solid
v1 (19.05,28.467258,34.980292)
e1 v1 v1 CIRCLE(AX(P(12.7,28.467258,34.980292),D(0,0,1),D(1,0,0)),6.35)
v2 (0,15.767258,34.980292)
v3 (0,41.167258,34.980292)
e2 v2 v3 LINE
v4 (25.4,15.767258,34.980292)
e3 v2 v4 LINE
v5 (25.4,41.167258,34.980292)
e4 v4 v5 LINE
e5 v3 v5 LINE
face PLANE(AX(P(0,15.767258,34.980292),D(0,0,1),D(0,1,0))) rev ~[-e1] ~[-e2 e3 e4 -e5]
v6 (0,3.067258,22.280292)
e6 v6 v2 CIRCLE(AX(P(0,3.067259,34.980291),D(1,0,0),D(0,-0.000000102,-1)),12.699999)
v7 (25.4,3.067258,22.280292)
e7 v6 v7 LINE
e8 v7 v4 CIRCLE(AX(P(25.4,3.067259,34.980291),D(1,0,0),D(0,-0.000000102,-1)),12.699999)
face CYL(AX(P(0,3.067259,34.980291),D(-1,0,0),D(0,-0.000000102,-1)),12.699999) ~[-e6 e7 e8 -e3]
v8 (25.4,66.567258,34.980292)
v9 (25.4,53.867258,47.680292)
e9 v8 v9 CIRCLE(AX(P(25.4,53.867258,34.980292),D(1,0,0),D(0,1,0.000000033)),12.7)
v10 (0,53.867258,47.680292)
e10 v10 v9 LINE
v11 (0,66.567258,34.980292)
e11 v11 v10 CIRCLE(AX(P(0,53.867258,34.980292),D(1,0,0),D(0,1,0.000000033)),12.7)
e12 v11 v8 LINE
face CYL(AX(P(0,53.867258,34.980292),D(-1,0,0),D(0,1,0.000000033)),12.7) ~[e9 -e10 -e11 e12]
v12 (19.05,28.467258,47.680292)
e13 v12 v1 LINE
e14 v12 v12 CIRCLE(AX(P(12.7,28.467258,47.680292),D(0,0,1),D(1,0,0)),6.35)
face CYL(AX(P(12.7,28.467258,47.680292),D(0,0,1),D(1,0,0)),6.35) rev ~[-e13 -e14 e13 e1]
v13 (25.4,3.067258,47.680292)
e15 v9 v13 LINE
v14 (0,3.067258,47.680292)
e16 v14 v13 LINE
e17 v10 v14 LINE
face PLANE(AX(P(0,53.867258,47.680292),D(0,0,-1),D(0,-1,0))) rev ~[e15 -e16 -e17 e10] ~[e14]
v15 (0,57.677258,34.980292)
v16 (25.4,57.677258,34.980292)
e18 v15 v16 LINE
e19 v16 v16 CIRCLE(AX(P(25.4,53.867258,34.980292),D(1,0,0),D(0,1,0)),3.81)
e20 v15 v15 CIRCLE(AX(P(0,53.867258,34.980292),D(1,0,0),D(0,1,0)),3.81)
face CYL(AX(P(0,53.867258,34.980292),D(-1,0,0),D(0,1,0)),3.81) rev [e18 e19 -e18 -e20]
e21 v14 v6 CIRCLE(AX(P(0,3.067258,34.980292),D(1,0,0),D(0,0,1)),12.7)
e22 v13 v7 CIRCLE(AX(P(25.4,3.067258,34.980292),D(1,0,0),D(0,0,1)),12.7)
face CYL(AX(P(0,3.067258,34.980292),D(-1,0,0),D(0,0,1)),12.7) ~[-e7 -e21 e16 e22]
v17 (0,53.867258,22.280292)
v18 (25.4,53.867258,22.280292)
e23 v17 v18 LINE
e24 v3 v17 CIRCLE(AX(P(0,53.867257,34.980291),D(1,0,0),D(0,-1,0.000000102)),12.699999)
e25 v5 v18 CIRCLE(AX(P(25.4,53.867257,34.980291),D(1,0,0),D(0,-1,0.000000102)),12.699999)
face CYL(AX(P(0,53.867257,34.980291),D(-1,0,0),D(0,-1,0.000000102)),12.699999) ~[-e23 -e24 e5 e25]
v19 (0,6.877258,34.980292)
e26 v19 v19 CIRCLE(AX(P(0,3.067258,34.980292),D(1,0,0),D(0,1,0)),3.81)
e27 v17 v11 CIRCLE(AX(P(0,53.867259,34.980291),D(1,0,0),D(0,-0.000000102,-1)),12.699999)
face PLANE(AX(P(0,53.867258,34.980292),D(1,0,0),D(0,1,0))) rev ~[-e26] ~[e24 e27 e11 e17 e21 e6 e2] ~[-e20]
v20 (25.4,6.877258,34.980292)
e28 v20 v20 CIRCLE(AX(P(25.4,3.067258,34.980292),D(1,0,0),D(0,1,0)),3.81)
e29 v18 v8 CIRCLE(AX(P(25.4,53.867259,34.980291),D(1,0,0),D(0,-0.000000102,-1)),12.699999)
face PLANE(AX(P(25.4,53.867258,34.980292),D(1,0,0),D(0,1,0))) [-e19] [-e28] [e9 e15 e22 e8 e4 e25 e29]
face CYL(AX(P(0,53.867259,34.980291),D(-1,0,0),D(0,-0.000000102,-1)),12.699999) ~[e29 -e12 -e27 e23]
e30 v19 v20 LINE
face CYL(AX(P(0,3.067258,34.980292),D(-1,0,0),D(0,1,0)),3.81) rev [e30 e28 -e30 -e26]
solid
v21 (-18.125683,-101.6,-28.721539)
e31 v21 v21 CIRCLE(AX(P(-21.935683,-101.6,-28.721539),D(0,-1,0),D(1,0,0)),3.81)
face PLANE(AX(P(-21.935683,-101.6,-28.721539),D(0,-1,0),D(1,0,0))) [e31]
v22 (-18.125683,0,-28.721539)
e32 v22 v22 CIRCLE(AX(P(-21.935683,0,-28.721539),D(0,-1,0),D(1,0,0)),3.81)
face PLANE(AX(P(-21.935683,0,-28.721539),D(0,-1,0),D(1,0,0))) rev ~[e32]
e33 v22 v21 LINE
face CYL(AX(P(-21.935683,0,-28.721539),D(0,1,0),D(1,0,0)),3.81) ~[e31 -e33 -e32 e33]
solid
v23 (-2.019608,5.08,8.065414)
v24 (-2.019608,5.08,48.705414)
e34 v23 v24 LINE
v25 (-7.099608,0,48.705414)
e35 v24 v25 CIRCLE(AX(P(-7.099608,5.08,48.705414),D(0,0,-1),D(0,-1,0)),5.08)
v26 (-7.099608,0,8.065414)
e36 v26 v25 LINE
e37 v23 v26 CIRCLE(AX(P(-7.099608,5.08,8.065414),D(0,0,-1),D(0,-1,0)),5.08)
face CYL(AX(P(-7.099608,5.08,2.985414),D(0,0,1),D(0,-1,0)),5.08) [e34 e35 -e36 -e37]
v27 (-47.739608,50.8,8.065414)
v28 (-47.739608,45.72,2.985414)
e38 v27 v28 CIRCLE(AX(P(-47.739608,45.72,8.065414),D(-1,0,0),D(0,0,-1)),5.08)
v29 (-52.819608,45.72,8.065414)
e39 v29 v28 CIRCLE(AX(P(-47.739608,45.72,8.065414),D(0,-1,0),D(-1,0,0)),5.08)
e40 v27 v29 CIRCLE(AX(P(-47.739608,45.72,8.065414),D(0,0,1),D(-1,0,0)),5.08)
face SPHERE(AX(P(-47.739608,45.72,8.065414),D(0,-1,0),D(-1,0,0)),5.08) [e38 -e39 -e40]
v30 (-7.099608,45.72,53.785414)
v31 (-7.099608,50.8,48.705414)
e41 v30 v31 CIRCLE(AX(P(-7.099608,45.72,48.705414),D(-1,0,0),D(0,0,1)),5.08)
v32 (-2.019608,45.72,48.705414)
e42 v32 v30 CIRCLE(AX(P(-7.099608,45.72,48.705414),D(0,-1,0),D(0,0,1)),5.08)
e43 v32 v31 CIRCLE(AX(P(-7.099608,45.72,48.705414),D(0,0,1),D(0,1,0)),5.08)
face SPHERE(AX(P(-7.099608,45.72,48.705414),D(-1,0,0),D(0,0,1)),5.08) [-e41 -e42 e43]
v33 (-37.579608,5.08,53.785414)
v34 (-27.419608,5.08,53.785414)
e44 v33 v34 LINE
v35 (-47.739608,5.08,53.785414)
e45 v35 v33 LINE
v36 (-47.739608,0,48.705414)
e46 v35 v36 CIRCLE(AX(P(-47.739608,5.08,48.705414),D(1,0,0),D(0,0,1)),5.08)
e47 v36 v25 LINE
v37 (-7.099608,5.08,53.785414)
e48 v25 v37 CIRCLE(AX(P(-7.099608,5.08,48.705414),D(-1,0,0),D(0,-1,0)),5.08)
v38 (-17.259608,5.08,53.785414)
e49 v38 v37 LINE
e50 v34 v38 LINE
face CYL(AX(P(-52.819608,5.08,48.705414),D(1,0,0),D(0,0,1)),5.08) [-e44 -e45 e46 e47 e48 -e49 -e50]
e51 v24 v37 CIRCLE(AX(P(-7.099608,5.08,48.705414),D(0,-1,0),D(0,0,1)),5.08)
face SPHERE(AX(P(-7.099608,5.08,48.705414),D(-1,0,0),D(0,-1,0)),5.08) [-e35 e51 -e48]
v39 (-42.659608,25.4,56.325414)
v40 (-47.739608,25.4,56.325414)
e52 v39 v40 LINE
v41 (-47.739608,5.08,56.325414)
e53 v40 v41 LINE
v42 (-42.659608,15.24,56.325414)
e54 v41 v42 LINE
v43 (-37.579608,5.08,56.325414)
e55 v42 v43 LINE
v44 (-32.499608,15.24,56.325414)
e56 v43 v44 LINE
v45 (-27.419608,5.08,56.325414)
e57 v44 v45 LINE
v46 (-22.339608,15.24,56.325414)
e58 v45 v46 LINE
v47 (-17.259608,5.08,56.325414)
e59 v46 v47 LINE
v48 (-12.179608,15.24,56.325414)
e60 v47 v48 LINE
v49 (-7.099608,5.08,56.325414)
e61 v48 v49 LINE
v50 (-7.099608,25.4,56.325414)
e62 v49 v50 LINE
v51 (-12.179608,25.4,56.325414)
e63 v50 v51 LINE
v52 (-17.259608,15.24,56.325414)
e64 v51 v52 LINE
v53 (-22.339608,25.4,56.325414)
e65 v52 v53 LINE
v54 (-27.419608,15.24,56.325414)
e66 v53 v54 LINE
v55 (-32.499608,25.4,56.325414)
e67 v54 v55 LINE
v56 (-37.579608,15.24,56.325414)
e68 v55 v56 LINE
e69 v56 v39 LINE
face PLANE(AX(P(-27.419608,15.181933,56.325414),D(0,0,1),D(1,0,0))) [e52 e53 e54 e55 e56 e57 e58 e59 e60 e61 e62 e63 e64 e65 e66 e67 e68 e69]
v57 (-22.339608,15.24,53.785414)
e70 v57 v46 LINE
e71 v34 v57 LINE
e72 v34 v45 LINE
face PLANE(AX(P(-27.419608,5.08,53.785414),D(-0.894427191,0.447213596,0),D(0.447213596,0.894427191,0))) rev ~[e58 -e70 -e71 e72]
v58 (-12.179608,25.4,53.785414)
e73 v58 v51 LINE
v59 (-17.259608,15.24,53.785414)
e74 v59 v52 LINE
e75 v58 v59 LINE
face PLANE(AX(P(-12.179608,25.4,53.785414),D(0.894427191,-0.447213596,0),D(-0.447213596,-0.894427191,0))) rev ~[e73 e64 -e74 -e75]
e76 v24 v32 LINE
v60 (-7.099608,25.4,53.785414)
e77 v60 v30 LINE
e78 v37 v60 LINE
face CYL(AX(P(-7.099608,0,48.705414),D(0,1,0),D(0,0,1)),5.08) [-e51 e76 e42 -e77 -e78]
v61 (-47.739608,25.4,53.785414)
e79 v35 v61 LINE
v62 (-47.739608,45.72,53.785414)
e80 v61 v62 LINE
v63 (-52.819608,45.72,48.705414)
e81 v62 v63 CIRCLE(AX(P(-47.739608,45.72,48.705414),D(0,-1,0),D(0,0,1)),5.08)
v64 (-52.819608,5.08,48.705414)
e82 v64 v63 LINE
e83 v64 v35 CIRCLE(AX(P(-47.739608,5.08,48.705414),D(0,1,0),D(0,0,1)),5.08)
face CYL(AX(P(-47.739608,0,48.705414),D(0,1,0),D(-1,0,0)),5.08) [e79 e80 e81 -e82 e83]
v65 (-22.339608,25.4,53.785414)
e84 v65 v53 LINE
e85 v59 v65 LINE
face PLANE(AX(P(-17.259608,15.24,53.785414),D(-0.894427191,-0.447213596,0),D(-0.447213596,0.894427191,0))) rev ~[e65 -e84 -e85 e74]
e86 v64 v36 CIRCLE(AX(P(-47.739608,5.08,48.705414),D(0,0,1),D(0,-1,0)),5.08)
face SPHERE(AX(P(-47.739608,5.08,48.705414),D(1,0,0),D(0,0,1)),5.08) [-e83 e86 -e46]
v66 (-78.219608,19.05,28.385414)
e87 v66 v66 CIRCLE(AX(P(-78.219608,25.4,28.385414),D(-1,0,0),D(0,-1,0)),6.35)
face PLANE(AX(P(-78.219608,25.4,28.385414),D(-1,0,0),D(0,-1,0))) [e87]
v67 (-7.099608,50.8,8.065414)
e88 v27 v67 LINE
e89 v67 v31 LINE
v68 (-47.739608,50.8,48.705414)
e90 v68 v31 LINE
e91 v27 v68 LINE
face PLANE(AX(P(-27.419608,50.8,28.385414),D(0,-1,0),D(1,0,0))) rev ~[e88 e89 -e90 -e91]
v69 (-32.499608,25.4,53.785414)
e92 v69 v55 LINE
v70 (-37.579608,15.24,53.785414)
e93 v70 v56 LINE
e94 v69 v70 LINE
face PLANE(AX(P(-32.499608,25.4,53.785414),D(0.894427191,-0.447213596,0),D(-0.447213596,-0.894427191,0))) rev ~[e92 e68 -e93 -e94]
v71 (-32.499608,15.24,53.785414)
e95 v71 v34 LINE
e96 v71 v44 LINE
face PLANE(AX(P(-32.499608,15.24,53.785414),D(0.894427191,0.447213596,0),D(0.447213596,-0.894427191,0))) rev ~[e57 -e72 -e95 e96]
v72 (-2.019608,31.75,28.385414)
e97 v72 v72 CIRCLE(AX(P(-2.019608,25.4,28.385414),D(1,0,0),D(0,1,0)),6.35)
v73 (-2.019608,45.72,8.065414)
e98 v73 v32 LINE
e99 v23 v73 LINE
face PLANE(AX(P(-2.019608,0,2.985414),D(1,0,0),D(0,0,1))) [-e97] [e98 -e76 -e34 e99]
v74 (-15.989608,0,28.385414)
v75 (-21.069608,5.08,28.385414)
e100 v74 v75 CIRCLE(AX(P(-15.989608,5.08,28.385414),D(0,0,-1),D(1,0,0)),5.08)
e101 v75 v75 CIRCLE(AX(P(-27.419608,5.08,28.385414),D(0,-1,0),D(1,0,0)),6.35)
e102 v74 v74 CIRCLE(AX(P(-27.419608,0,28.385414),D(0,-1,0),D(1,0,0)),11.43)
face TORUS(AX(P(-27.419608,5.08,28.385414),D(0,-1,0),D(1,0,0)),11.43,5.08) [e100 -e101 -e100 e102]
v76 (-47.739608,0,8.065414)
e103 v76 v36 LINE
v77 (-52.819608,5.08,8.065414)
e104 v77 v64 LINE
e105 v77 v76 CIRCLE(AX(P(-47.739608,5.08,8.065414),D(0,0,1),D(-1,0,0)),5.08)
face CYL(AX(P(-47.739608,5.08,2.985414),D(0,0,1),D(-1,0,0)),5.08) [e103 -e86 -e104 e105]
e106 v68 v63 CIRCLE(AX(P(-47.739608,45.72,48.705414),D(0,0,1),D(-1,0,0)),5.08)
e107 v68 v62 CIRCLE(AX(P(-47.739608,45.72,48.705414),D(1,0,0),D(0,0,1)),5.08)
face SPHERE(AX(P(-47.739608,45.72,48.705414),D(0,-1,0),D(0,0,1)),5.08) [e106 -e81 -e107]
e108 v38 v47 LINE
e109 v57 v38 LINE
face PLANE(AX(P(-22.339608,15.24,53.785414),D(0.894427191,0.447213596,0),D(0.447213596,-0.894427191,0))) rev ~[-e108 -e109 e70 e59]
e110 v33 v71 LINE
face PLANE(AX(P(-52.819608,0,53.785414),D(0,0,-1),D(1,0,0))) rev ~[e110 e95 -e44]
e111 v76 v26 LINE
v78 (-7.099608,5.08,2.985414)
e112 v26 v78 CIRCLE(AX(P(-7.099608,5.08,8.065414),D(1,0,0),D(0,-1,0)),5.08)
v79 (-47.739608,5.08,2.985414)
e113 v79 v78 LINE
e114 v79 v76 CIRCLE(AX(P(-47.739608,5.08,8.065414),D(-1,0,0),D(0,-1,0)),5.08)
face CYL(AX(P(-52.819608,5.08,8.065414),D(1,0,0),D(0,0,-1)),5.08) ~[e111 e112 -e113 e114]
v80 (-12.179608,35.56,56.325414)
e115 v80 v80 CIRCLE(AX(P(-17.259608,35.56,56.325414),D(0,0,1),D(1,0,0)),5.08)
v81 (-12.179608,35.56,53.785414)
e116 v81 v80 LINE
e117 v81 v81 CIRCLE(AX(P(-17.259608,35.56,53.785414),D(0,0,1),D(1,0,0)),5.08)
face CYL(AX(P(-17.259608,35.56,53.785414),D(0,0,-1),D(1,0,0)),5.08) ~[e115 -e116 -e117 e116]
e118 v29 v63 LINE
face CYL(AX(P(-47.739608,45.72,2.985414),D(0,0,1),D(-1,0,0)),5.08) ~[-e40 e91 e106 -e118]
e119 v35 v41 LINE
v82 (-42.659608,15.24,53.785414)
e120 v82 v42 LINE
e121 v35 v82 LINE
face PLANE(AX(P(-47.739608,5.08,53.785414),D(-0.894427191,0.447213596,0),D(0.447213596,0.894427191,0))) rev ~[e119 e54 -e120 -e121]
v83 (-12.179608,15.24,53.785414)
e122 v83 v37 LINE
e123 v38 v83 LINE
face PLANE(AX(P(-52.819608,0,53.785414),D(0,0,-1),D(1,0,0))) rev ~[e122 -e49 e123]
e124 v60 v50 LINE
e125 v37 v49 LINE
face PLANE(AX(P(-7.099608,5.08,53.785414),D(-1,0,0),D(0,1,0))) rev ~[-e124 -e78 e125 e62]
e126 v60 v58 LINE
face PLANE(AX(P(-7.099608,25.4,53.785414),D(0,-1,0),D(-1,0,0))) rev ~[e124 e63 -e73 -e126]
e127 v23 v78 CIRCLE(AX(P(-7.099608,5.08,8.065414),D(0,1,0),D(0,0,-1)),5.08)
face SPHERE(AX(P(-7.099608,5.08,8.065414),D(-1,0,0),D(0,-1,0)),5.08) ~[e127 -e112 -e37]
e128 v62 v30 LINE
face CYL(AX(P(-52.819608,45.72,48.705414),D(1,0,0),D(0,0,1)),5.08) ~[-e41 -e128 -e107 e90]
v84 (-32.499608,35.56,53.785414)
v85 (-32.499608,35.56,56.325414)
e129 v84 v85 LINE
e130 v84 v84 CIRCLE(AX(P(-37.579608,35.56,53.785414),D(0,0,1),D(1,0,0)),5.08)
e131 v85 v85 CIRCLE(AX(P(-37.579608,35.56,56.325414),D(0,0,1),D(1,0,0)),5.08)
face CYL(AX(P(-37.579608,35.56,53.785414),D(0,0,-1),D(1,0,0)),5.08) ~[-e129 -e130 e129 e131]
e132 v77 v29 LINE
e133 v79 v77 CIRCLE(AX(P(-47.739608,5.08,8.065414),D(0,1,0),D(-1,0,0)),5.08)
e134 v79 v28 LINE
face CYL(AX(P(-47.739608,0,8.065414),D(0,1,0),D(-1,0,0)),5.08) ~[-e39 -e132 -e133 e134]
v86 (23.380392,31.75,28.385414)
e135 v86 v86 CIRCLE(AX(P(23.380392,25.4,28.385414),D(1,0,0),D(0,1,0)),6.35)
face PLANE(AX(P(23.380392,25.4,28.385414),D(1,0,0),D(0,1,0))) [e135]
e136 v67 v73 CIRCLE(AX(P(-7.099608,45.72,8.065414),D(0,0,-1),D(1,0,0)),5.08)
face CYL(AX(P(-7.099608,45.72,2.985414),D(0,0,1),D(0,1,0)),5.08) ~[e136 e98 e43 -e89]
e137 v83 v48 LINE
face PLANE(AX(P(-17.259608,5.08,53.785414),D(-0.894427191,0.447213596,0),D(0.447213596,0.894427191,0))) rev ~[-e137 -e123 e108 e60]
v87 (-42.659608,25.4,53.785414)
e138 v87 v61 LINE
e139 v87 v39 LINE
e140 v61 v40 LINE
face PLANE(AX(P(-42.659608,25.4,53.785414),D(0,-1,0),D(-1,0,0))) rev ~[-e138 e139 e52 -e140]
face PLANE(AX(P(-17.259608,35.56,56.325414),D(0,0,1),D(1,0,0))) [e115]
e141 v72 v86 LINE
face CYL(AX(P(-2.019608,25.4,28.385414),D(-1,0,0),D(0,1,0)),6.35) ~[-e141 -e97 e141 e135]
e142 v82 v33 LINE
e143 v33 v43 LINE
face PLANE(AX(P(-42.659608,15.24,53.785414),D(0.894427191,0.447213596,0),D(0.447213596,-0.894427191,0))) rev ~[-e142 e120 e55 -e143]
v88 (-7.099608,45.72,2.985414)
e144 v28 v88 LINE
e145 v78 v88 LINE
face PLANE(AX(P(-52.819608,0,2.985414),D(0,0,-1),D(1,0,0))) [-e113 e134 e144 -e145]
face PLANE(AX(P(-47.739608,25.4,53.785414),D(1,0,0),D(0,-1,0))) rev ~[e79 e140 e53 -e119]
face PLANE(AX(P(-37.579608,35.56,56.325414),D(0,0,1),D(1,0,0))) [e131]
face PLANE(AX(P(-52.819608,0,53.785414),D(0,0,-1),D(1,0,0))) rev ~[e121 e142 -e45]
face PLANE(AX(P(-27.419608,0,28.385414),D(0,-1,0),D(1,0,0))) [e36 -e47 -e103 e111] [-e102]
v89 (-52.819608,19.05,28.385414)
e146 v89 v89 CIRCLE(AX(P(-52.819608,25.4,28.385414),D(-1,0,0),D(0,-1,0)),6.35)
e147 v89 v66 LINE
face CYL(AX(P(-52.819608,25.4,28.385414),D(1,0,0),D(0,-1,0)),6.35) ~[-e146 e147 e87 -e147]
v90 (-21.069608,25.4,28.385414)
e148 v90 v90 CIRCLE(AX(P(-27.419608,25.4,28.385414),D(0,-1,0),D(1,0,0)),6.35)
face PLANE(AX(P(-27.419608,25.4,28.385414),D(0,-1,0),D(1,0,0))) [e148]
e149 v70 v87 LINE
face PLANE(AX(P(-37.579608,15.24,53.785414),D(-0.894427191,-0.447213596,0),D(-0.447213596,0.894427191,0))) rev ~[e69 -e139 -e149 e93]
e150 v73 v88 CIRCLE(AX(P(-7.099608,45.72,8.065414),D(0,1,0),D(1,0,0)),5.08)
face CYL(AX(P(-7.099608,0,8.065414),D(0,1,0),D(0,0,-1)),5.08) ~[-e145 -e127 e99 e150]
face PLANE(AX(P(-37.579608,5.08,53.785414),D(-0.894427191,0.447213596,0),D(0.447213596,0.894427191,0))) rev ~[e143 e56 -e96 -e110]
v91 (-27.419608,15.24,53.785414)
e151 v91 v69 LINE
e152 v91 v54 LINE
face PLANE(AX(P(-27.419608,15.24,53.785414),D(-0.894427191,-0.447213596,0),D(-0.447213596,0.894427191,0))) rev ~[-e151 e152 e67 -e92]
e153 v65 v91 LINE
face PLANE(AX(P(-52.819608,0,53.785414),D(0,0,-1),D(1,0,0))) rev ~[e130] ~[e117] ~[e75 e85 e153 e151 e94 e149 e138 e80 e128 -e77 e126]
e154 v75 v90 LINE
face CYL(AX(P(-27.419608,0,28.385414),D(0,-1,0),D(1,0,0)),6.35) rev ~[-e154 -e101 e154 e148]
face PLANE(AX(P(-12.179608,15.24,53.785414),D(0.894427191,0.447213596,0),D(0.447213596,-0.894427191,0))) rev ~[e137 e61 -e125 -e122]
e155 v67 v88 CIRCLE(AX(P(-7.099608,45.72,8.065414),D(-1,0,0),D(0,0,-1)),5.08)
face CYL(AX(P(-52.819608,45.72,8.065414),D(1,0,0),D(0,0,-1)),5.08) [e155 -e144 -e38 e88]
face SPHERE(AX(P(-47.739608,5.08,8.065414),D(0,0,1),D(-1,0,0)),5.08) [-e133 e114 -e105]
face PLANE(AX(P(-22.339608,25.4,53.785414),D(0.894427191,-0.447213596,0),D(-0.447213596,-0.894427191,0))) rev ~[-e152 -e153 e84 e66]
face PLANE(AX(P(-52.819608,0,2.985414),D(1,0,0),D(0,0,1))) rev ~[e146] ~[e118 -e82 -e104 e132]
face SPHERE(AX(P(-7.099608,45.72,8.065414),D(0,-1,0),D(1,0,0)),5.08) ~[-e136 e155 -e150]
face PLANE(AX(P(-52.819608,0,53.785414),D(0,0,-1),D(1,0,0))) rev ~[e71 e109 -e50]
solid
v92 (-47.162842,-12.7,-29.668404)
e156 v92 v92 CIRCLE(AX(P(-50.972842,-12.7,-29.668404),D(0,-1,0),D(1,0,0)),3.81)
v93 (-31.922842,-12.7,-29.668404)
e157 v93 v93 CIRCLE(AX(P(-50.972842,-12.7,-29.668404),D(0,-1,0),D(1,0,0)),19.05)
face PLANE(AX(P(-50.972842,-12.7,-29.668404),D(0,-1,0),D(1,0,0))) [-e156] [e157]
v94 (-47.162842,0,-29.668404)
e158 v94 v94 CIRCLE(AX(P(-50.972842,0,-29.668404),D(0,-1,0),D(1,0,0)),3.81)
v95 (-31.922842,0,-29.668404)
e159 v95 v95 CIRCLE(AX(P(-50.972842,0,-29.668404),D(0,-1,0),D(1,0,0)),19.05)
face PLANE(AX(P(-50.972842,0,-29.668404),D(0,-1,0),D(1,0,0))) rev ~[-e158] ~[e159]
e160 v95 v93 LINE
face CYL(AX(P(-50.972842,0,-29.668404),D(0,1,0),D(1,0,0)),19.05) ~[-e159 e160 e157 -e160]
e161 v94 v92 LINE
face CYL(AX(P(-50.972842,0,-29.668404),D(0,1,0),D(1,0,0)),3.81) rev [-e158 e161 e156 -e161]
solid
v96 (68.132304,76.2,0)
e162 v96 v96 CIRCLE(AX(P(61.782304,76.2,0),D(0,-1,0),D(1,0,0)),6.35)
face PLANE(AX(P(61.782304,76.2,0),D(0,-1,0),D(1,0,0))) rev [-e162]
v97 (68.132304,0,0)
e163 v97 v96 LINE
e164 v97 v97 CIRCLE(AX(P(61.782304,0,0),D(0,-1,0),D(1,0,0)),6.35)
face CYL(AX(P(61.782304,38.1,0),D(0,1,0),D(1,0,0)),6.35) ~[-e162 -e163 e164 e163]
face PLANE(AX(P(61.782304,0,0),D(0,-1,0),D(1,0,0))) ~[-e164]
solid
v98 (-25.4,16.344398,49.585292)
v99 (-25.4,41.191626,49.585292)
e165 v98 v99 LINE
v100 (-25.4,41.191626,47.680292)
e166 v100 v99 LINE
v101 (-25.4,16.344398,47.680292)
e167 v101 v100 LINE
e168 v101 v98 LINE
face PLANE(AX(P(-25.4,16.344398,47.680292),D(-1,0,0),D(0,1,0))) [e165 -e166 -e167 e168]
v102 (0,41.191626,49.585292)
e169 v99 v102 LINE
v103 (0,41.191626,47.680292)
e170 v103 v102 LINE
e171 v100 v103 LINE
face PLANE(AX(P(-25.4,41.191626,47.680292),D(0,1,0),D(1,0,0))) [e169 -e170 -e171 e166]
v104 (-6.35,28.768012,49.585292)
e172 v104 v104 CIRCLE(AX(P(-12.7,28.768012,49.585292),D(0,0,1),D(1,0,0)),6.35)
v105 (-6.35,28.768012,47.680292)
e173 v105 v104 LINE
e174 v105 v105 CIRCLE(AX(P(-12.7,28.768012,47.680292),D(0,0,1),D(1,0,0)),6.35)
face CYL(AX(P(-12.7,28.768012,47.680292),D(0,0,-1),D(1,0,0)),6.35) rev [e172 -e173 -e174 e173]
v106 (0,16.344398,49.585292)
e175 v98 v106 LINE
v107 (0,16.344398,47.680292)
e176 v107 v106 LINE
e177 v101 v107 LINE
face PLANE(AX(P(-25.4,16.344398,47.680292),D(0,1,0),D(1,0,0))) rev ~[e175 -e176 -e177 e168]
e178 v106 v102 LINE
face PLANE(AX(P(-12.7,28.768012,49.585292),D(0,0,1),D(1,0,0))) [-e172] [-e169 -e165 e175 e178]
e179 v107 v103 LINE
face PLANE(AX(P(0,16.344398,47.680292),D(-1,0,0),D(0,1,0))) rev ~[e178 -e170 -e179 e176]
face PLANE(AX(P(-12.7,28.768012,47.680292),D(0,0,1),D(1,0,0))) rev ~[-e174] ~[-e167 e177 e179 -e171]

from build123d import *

# Parameters (mm, degrees)
F0_R      = 19.05
F0_R_2    = 3.81
F1_DEPTH  = 12.7
F2_R      = 3.81
F3_DEPTH  = 101.6
F4_R      = 3.81
F5_DEPTH  = 25.4
F6_R      = 6.35
F7_DEPTH  = 96.399695
F8_W      = 6.35
F8_H      = 76.2
F10_W     = 25.4
F10_H     = 24.847228
F10_R     = 6.35
F11_DEPTH = 1.905
F12_W     = 50.8
F12_H     = 50.8
F12_R     = 6.35
F13_DEPTH = 50.8
F14_R     = 6.35
F15_DEPTH = 25.4
F16_R     = 5.08
F17_R     = 6.35
F18_DEPTH = 25.4
F19_R     = 6.35
F20_DEPTH = 25.4
F21_R     = 5.08
F22_DEPTH = 2.54


with BuildPart() as f1:
    # F0 (on Front) → F1 (new body)
    with BuildSketch(Plane.XZ):
        with Locations((-50.972842, -29.668404)):
            Circle(F0_R)
        with Locations((-50.972842, -29.668404)):
            Circle(F0_R_2, mode=Mode.SUBTRACT)
    extrude(amount=F1_DEPTH)


with BuildPart() as f3:
    # F2 (on Front) → F3 (new body)
    with BuildSketch(Plane.XZ):
        with Locations((-21.935683, -28.721539)):
            Circle(F2_R)
    extrude(amount=F3_DEPTH)


with BuildPart() as f5:
    # F4 (on Right) → F5 (new body)
    with BuildSketch(Plane.YZ):
        with BuildLine():
            ThreePointArc((53.867258, 22.280292), (62.847514, 26.000035), (66.567258, 34.980292))
            ThreePointArc((66.567258, 34.980292), (62.847514, 43.960548), (53.867258, 47.680292))
            ThreePointArc((53.867258, 47.680292), (44.887002, 43.960548), (41.167258, 34.980292))
            ThreePointArc((41.167258, 34.980292), (44.887002, 26.000035), (53.867258, 22.280292))
        make_face()
        with Locations((53.867258, 34.980292)):
            Circle(F4_R, mode=Mode.SUBTRACT)
        with BuildLine():
            ThreePointArc((15.767258, 34.980292), (12.047514, 43.960548), (3.067258, 47.680292))
            ThreePointArc((3.067258, 47.680292), (-9.632742, 34.980292), (3.067258, 22.280292))
            ThreePointArc((3.067258, 22.280292), (12.047514, 26.000035), (15.767258, 34.980292))
        make_face()
        with Locations((3.067258, 34.980292)):
            Circle(F4_R, mode=Mode.SUBTRACT)
        with BuildLine():
            ThreePointArc((41.167258, 34.980292), (44.887002, 43.960548), (53.867258, 47.680292))
            Line((53.867258, 47.680292), (3.067258, 47.680292))
            ThreePointArc((3.067258, 47.680292), (12.047514, 43.960548), (15.767258, 34.980292))
            Line((15.767258, 34.980292), (41.167258, 34.980292))
        make_face()
    extrude(amount=F5_DEPTH)

    # F6 (on face) → F7 (cut, through all)
    with BuildSketch(Plane.XY.offset(47.680292)):
        with Locations((12.7, 28.467258)):
            Circle(F6_R)
    extrude(amount=-F7_DEPTH, mode=Mode.SUBTRACT)


with BuildPart() as f9:
    # F8 (on Top) → F9 (revolve)
    with BuildSketch(Plane.XY):
        with Locations((64.957304, 38.1)):
            Rectangle(F8_W, F8_H)
    revolve(axis=Axis((61.782304, 38.1, 0), (0, -1, 0)))


with BuildPart() as f11:
    # F10 (on face) → F11 (new body)
    with BuildSketch(Plane.XY.offset(47.680292)):
        with Locations((-12.7, 28.768012)):
            Rectangle(F10_W, F10_H)
        with Locations((-12.7, 28.768012)):
            Circle(F10_R, mode=Mode.SUBTRACT)
    extrude(amount=F11_DEPTH)


with BuildPart() as f13:
    # F12 (on Front) → F13 (new body)
    with BuildSketch(Plane.XZ):
        with Locations((-27.419608, 28.385414)):
            Rectangle(F12_W, F12_H)
        with Locations((-27.419608, 28.385414)):
            Circle(F12_R, mode=Mode.SUBTRACT)
        with Locations((-27.419608, 28.385414)):
            Circle(F12_R)
    extrude(amount=-F13_DEPTH)

    # F14 (on face) → F15 (cut)
    with BuildSketch(Plane.XZ):
        with Locations((-27.419608, 28.385414)):
            Circle(F14_R)
    extrude(amount=-F15_DEPTH, mode=Mode.SUBTRACT)

    # F16
    f16_edges = [f13.edges().sort_by_distance(p)[0] for p in [
        (-27.419608, 0, 53.785414),
        (-52.819608, 25.4, 53.785414),
        (-52.819608, 0, 28.385414),
        (-52.819608, 25.4, 2.985414),
        (-27.419608, 0, 2.985414),
        (-2.019608, 0, 28.385414),
        (-33.769608, 0, 28.385414),
        (-2.019608, 25.4, 2.985414),
        (-27.419608, 50.8, 53.785414),
        (-2.019608, 25.4, 53.785414),
        (-2.019608, 50.8, 28.385414),
        (-52.819608, 50.8, 28.385414),
        (-27.419608, 50.8, 2.985414),
    ]]
    fillet(f16_edges, radius=F16_R)

    # F17 (on face) → F18 (join)
    with BuildSketch(Plane(origin=(-52.819608, 0, 0), x_dir=(0, -1, 0), z_dir=(-1, 0, 0))):
        with Locations((-25.4, 28.385414)):
            Circle(F17_R)
    extrude(amount=F18_DEPTH)

    # F19 (on face) → F20 (join)
    with BuildSketch(Plane.YZ.offset(-2.019608)):
        with Locations((25.4, 28.385414)):
            Circle(F19_R)
    extrude(amount=F20_DEPTH)

    # F21 (on face) → F22 (join)
    with BuildSketch(Plane.XY.offset(53.785414)):
        with Locations((-37.579608, 35.56)):
            Circle(F21_R)
        with Locations((-17.259608, 35.56)):
            Circle(F21_R)
        Polygon((-42.659608, 25.4), (-47.739608, 25.4), (-47.739608, 5.08), (-42.659608, 15.24), (-37.579608, 5.08), (-32.499608, 15.24), (-27.419608, 5.08), (-22.339608, 15.24), (-17.259608, 5.08), (-12.179608, 15.24), (-7.099608, 5.08), (-7.099608, 25.4), (-12.179608, 25.4), (-17.259608, 15.24), (-22.339608, 25.4), (-27.419608, 15.24), (-32.499608, 25.4), (-37.579608, 15.24), align=None)
    extrude(amount=F22_DEPTH)


solid = Compound([f1.part, f3.part, f5.part, f9.part, f11.part, f13.part])
